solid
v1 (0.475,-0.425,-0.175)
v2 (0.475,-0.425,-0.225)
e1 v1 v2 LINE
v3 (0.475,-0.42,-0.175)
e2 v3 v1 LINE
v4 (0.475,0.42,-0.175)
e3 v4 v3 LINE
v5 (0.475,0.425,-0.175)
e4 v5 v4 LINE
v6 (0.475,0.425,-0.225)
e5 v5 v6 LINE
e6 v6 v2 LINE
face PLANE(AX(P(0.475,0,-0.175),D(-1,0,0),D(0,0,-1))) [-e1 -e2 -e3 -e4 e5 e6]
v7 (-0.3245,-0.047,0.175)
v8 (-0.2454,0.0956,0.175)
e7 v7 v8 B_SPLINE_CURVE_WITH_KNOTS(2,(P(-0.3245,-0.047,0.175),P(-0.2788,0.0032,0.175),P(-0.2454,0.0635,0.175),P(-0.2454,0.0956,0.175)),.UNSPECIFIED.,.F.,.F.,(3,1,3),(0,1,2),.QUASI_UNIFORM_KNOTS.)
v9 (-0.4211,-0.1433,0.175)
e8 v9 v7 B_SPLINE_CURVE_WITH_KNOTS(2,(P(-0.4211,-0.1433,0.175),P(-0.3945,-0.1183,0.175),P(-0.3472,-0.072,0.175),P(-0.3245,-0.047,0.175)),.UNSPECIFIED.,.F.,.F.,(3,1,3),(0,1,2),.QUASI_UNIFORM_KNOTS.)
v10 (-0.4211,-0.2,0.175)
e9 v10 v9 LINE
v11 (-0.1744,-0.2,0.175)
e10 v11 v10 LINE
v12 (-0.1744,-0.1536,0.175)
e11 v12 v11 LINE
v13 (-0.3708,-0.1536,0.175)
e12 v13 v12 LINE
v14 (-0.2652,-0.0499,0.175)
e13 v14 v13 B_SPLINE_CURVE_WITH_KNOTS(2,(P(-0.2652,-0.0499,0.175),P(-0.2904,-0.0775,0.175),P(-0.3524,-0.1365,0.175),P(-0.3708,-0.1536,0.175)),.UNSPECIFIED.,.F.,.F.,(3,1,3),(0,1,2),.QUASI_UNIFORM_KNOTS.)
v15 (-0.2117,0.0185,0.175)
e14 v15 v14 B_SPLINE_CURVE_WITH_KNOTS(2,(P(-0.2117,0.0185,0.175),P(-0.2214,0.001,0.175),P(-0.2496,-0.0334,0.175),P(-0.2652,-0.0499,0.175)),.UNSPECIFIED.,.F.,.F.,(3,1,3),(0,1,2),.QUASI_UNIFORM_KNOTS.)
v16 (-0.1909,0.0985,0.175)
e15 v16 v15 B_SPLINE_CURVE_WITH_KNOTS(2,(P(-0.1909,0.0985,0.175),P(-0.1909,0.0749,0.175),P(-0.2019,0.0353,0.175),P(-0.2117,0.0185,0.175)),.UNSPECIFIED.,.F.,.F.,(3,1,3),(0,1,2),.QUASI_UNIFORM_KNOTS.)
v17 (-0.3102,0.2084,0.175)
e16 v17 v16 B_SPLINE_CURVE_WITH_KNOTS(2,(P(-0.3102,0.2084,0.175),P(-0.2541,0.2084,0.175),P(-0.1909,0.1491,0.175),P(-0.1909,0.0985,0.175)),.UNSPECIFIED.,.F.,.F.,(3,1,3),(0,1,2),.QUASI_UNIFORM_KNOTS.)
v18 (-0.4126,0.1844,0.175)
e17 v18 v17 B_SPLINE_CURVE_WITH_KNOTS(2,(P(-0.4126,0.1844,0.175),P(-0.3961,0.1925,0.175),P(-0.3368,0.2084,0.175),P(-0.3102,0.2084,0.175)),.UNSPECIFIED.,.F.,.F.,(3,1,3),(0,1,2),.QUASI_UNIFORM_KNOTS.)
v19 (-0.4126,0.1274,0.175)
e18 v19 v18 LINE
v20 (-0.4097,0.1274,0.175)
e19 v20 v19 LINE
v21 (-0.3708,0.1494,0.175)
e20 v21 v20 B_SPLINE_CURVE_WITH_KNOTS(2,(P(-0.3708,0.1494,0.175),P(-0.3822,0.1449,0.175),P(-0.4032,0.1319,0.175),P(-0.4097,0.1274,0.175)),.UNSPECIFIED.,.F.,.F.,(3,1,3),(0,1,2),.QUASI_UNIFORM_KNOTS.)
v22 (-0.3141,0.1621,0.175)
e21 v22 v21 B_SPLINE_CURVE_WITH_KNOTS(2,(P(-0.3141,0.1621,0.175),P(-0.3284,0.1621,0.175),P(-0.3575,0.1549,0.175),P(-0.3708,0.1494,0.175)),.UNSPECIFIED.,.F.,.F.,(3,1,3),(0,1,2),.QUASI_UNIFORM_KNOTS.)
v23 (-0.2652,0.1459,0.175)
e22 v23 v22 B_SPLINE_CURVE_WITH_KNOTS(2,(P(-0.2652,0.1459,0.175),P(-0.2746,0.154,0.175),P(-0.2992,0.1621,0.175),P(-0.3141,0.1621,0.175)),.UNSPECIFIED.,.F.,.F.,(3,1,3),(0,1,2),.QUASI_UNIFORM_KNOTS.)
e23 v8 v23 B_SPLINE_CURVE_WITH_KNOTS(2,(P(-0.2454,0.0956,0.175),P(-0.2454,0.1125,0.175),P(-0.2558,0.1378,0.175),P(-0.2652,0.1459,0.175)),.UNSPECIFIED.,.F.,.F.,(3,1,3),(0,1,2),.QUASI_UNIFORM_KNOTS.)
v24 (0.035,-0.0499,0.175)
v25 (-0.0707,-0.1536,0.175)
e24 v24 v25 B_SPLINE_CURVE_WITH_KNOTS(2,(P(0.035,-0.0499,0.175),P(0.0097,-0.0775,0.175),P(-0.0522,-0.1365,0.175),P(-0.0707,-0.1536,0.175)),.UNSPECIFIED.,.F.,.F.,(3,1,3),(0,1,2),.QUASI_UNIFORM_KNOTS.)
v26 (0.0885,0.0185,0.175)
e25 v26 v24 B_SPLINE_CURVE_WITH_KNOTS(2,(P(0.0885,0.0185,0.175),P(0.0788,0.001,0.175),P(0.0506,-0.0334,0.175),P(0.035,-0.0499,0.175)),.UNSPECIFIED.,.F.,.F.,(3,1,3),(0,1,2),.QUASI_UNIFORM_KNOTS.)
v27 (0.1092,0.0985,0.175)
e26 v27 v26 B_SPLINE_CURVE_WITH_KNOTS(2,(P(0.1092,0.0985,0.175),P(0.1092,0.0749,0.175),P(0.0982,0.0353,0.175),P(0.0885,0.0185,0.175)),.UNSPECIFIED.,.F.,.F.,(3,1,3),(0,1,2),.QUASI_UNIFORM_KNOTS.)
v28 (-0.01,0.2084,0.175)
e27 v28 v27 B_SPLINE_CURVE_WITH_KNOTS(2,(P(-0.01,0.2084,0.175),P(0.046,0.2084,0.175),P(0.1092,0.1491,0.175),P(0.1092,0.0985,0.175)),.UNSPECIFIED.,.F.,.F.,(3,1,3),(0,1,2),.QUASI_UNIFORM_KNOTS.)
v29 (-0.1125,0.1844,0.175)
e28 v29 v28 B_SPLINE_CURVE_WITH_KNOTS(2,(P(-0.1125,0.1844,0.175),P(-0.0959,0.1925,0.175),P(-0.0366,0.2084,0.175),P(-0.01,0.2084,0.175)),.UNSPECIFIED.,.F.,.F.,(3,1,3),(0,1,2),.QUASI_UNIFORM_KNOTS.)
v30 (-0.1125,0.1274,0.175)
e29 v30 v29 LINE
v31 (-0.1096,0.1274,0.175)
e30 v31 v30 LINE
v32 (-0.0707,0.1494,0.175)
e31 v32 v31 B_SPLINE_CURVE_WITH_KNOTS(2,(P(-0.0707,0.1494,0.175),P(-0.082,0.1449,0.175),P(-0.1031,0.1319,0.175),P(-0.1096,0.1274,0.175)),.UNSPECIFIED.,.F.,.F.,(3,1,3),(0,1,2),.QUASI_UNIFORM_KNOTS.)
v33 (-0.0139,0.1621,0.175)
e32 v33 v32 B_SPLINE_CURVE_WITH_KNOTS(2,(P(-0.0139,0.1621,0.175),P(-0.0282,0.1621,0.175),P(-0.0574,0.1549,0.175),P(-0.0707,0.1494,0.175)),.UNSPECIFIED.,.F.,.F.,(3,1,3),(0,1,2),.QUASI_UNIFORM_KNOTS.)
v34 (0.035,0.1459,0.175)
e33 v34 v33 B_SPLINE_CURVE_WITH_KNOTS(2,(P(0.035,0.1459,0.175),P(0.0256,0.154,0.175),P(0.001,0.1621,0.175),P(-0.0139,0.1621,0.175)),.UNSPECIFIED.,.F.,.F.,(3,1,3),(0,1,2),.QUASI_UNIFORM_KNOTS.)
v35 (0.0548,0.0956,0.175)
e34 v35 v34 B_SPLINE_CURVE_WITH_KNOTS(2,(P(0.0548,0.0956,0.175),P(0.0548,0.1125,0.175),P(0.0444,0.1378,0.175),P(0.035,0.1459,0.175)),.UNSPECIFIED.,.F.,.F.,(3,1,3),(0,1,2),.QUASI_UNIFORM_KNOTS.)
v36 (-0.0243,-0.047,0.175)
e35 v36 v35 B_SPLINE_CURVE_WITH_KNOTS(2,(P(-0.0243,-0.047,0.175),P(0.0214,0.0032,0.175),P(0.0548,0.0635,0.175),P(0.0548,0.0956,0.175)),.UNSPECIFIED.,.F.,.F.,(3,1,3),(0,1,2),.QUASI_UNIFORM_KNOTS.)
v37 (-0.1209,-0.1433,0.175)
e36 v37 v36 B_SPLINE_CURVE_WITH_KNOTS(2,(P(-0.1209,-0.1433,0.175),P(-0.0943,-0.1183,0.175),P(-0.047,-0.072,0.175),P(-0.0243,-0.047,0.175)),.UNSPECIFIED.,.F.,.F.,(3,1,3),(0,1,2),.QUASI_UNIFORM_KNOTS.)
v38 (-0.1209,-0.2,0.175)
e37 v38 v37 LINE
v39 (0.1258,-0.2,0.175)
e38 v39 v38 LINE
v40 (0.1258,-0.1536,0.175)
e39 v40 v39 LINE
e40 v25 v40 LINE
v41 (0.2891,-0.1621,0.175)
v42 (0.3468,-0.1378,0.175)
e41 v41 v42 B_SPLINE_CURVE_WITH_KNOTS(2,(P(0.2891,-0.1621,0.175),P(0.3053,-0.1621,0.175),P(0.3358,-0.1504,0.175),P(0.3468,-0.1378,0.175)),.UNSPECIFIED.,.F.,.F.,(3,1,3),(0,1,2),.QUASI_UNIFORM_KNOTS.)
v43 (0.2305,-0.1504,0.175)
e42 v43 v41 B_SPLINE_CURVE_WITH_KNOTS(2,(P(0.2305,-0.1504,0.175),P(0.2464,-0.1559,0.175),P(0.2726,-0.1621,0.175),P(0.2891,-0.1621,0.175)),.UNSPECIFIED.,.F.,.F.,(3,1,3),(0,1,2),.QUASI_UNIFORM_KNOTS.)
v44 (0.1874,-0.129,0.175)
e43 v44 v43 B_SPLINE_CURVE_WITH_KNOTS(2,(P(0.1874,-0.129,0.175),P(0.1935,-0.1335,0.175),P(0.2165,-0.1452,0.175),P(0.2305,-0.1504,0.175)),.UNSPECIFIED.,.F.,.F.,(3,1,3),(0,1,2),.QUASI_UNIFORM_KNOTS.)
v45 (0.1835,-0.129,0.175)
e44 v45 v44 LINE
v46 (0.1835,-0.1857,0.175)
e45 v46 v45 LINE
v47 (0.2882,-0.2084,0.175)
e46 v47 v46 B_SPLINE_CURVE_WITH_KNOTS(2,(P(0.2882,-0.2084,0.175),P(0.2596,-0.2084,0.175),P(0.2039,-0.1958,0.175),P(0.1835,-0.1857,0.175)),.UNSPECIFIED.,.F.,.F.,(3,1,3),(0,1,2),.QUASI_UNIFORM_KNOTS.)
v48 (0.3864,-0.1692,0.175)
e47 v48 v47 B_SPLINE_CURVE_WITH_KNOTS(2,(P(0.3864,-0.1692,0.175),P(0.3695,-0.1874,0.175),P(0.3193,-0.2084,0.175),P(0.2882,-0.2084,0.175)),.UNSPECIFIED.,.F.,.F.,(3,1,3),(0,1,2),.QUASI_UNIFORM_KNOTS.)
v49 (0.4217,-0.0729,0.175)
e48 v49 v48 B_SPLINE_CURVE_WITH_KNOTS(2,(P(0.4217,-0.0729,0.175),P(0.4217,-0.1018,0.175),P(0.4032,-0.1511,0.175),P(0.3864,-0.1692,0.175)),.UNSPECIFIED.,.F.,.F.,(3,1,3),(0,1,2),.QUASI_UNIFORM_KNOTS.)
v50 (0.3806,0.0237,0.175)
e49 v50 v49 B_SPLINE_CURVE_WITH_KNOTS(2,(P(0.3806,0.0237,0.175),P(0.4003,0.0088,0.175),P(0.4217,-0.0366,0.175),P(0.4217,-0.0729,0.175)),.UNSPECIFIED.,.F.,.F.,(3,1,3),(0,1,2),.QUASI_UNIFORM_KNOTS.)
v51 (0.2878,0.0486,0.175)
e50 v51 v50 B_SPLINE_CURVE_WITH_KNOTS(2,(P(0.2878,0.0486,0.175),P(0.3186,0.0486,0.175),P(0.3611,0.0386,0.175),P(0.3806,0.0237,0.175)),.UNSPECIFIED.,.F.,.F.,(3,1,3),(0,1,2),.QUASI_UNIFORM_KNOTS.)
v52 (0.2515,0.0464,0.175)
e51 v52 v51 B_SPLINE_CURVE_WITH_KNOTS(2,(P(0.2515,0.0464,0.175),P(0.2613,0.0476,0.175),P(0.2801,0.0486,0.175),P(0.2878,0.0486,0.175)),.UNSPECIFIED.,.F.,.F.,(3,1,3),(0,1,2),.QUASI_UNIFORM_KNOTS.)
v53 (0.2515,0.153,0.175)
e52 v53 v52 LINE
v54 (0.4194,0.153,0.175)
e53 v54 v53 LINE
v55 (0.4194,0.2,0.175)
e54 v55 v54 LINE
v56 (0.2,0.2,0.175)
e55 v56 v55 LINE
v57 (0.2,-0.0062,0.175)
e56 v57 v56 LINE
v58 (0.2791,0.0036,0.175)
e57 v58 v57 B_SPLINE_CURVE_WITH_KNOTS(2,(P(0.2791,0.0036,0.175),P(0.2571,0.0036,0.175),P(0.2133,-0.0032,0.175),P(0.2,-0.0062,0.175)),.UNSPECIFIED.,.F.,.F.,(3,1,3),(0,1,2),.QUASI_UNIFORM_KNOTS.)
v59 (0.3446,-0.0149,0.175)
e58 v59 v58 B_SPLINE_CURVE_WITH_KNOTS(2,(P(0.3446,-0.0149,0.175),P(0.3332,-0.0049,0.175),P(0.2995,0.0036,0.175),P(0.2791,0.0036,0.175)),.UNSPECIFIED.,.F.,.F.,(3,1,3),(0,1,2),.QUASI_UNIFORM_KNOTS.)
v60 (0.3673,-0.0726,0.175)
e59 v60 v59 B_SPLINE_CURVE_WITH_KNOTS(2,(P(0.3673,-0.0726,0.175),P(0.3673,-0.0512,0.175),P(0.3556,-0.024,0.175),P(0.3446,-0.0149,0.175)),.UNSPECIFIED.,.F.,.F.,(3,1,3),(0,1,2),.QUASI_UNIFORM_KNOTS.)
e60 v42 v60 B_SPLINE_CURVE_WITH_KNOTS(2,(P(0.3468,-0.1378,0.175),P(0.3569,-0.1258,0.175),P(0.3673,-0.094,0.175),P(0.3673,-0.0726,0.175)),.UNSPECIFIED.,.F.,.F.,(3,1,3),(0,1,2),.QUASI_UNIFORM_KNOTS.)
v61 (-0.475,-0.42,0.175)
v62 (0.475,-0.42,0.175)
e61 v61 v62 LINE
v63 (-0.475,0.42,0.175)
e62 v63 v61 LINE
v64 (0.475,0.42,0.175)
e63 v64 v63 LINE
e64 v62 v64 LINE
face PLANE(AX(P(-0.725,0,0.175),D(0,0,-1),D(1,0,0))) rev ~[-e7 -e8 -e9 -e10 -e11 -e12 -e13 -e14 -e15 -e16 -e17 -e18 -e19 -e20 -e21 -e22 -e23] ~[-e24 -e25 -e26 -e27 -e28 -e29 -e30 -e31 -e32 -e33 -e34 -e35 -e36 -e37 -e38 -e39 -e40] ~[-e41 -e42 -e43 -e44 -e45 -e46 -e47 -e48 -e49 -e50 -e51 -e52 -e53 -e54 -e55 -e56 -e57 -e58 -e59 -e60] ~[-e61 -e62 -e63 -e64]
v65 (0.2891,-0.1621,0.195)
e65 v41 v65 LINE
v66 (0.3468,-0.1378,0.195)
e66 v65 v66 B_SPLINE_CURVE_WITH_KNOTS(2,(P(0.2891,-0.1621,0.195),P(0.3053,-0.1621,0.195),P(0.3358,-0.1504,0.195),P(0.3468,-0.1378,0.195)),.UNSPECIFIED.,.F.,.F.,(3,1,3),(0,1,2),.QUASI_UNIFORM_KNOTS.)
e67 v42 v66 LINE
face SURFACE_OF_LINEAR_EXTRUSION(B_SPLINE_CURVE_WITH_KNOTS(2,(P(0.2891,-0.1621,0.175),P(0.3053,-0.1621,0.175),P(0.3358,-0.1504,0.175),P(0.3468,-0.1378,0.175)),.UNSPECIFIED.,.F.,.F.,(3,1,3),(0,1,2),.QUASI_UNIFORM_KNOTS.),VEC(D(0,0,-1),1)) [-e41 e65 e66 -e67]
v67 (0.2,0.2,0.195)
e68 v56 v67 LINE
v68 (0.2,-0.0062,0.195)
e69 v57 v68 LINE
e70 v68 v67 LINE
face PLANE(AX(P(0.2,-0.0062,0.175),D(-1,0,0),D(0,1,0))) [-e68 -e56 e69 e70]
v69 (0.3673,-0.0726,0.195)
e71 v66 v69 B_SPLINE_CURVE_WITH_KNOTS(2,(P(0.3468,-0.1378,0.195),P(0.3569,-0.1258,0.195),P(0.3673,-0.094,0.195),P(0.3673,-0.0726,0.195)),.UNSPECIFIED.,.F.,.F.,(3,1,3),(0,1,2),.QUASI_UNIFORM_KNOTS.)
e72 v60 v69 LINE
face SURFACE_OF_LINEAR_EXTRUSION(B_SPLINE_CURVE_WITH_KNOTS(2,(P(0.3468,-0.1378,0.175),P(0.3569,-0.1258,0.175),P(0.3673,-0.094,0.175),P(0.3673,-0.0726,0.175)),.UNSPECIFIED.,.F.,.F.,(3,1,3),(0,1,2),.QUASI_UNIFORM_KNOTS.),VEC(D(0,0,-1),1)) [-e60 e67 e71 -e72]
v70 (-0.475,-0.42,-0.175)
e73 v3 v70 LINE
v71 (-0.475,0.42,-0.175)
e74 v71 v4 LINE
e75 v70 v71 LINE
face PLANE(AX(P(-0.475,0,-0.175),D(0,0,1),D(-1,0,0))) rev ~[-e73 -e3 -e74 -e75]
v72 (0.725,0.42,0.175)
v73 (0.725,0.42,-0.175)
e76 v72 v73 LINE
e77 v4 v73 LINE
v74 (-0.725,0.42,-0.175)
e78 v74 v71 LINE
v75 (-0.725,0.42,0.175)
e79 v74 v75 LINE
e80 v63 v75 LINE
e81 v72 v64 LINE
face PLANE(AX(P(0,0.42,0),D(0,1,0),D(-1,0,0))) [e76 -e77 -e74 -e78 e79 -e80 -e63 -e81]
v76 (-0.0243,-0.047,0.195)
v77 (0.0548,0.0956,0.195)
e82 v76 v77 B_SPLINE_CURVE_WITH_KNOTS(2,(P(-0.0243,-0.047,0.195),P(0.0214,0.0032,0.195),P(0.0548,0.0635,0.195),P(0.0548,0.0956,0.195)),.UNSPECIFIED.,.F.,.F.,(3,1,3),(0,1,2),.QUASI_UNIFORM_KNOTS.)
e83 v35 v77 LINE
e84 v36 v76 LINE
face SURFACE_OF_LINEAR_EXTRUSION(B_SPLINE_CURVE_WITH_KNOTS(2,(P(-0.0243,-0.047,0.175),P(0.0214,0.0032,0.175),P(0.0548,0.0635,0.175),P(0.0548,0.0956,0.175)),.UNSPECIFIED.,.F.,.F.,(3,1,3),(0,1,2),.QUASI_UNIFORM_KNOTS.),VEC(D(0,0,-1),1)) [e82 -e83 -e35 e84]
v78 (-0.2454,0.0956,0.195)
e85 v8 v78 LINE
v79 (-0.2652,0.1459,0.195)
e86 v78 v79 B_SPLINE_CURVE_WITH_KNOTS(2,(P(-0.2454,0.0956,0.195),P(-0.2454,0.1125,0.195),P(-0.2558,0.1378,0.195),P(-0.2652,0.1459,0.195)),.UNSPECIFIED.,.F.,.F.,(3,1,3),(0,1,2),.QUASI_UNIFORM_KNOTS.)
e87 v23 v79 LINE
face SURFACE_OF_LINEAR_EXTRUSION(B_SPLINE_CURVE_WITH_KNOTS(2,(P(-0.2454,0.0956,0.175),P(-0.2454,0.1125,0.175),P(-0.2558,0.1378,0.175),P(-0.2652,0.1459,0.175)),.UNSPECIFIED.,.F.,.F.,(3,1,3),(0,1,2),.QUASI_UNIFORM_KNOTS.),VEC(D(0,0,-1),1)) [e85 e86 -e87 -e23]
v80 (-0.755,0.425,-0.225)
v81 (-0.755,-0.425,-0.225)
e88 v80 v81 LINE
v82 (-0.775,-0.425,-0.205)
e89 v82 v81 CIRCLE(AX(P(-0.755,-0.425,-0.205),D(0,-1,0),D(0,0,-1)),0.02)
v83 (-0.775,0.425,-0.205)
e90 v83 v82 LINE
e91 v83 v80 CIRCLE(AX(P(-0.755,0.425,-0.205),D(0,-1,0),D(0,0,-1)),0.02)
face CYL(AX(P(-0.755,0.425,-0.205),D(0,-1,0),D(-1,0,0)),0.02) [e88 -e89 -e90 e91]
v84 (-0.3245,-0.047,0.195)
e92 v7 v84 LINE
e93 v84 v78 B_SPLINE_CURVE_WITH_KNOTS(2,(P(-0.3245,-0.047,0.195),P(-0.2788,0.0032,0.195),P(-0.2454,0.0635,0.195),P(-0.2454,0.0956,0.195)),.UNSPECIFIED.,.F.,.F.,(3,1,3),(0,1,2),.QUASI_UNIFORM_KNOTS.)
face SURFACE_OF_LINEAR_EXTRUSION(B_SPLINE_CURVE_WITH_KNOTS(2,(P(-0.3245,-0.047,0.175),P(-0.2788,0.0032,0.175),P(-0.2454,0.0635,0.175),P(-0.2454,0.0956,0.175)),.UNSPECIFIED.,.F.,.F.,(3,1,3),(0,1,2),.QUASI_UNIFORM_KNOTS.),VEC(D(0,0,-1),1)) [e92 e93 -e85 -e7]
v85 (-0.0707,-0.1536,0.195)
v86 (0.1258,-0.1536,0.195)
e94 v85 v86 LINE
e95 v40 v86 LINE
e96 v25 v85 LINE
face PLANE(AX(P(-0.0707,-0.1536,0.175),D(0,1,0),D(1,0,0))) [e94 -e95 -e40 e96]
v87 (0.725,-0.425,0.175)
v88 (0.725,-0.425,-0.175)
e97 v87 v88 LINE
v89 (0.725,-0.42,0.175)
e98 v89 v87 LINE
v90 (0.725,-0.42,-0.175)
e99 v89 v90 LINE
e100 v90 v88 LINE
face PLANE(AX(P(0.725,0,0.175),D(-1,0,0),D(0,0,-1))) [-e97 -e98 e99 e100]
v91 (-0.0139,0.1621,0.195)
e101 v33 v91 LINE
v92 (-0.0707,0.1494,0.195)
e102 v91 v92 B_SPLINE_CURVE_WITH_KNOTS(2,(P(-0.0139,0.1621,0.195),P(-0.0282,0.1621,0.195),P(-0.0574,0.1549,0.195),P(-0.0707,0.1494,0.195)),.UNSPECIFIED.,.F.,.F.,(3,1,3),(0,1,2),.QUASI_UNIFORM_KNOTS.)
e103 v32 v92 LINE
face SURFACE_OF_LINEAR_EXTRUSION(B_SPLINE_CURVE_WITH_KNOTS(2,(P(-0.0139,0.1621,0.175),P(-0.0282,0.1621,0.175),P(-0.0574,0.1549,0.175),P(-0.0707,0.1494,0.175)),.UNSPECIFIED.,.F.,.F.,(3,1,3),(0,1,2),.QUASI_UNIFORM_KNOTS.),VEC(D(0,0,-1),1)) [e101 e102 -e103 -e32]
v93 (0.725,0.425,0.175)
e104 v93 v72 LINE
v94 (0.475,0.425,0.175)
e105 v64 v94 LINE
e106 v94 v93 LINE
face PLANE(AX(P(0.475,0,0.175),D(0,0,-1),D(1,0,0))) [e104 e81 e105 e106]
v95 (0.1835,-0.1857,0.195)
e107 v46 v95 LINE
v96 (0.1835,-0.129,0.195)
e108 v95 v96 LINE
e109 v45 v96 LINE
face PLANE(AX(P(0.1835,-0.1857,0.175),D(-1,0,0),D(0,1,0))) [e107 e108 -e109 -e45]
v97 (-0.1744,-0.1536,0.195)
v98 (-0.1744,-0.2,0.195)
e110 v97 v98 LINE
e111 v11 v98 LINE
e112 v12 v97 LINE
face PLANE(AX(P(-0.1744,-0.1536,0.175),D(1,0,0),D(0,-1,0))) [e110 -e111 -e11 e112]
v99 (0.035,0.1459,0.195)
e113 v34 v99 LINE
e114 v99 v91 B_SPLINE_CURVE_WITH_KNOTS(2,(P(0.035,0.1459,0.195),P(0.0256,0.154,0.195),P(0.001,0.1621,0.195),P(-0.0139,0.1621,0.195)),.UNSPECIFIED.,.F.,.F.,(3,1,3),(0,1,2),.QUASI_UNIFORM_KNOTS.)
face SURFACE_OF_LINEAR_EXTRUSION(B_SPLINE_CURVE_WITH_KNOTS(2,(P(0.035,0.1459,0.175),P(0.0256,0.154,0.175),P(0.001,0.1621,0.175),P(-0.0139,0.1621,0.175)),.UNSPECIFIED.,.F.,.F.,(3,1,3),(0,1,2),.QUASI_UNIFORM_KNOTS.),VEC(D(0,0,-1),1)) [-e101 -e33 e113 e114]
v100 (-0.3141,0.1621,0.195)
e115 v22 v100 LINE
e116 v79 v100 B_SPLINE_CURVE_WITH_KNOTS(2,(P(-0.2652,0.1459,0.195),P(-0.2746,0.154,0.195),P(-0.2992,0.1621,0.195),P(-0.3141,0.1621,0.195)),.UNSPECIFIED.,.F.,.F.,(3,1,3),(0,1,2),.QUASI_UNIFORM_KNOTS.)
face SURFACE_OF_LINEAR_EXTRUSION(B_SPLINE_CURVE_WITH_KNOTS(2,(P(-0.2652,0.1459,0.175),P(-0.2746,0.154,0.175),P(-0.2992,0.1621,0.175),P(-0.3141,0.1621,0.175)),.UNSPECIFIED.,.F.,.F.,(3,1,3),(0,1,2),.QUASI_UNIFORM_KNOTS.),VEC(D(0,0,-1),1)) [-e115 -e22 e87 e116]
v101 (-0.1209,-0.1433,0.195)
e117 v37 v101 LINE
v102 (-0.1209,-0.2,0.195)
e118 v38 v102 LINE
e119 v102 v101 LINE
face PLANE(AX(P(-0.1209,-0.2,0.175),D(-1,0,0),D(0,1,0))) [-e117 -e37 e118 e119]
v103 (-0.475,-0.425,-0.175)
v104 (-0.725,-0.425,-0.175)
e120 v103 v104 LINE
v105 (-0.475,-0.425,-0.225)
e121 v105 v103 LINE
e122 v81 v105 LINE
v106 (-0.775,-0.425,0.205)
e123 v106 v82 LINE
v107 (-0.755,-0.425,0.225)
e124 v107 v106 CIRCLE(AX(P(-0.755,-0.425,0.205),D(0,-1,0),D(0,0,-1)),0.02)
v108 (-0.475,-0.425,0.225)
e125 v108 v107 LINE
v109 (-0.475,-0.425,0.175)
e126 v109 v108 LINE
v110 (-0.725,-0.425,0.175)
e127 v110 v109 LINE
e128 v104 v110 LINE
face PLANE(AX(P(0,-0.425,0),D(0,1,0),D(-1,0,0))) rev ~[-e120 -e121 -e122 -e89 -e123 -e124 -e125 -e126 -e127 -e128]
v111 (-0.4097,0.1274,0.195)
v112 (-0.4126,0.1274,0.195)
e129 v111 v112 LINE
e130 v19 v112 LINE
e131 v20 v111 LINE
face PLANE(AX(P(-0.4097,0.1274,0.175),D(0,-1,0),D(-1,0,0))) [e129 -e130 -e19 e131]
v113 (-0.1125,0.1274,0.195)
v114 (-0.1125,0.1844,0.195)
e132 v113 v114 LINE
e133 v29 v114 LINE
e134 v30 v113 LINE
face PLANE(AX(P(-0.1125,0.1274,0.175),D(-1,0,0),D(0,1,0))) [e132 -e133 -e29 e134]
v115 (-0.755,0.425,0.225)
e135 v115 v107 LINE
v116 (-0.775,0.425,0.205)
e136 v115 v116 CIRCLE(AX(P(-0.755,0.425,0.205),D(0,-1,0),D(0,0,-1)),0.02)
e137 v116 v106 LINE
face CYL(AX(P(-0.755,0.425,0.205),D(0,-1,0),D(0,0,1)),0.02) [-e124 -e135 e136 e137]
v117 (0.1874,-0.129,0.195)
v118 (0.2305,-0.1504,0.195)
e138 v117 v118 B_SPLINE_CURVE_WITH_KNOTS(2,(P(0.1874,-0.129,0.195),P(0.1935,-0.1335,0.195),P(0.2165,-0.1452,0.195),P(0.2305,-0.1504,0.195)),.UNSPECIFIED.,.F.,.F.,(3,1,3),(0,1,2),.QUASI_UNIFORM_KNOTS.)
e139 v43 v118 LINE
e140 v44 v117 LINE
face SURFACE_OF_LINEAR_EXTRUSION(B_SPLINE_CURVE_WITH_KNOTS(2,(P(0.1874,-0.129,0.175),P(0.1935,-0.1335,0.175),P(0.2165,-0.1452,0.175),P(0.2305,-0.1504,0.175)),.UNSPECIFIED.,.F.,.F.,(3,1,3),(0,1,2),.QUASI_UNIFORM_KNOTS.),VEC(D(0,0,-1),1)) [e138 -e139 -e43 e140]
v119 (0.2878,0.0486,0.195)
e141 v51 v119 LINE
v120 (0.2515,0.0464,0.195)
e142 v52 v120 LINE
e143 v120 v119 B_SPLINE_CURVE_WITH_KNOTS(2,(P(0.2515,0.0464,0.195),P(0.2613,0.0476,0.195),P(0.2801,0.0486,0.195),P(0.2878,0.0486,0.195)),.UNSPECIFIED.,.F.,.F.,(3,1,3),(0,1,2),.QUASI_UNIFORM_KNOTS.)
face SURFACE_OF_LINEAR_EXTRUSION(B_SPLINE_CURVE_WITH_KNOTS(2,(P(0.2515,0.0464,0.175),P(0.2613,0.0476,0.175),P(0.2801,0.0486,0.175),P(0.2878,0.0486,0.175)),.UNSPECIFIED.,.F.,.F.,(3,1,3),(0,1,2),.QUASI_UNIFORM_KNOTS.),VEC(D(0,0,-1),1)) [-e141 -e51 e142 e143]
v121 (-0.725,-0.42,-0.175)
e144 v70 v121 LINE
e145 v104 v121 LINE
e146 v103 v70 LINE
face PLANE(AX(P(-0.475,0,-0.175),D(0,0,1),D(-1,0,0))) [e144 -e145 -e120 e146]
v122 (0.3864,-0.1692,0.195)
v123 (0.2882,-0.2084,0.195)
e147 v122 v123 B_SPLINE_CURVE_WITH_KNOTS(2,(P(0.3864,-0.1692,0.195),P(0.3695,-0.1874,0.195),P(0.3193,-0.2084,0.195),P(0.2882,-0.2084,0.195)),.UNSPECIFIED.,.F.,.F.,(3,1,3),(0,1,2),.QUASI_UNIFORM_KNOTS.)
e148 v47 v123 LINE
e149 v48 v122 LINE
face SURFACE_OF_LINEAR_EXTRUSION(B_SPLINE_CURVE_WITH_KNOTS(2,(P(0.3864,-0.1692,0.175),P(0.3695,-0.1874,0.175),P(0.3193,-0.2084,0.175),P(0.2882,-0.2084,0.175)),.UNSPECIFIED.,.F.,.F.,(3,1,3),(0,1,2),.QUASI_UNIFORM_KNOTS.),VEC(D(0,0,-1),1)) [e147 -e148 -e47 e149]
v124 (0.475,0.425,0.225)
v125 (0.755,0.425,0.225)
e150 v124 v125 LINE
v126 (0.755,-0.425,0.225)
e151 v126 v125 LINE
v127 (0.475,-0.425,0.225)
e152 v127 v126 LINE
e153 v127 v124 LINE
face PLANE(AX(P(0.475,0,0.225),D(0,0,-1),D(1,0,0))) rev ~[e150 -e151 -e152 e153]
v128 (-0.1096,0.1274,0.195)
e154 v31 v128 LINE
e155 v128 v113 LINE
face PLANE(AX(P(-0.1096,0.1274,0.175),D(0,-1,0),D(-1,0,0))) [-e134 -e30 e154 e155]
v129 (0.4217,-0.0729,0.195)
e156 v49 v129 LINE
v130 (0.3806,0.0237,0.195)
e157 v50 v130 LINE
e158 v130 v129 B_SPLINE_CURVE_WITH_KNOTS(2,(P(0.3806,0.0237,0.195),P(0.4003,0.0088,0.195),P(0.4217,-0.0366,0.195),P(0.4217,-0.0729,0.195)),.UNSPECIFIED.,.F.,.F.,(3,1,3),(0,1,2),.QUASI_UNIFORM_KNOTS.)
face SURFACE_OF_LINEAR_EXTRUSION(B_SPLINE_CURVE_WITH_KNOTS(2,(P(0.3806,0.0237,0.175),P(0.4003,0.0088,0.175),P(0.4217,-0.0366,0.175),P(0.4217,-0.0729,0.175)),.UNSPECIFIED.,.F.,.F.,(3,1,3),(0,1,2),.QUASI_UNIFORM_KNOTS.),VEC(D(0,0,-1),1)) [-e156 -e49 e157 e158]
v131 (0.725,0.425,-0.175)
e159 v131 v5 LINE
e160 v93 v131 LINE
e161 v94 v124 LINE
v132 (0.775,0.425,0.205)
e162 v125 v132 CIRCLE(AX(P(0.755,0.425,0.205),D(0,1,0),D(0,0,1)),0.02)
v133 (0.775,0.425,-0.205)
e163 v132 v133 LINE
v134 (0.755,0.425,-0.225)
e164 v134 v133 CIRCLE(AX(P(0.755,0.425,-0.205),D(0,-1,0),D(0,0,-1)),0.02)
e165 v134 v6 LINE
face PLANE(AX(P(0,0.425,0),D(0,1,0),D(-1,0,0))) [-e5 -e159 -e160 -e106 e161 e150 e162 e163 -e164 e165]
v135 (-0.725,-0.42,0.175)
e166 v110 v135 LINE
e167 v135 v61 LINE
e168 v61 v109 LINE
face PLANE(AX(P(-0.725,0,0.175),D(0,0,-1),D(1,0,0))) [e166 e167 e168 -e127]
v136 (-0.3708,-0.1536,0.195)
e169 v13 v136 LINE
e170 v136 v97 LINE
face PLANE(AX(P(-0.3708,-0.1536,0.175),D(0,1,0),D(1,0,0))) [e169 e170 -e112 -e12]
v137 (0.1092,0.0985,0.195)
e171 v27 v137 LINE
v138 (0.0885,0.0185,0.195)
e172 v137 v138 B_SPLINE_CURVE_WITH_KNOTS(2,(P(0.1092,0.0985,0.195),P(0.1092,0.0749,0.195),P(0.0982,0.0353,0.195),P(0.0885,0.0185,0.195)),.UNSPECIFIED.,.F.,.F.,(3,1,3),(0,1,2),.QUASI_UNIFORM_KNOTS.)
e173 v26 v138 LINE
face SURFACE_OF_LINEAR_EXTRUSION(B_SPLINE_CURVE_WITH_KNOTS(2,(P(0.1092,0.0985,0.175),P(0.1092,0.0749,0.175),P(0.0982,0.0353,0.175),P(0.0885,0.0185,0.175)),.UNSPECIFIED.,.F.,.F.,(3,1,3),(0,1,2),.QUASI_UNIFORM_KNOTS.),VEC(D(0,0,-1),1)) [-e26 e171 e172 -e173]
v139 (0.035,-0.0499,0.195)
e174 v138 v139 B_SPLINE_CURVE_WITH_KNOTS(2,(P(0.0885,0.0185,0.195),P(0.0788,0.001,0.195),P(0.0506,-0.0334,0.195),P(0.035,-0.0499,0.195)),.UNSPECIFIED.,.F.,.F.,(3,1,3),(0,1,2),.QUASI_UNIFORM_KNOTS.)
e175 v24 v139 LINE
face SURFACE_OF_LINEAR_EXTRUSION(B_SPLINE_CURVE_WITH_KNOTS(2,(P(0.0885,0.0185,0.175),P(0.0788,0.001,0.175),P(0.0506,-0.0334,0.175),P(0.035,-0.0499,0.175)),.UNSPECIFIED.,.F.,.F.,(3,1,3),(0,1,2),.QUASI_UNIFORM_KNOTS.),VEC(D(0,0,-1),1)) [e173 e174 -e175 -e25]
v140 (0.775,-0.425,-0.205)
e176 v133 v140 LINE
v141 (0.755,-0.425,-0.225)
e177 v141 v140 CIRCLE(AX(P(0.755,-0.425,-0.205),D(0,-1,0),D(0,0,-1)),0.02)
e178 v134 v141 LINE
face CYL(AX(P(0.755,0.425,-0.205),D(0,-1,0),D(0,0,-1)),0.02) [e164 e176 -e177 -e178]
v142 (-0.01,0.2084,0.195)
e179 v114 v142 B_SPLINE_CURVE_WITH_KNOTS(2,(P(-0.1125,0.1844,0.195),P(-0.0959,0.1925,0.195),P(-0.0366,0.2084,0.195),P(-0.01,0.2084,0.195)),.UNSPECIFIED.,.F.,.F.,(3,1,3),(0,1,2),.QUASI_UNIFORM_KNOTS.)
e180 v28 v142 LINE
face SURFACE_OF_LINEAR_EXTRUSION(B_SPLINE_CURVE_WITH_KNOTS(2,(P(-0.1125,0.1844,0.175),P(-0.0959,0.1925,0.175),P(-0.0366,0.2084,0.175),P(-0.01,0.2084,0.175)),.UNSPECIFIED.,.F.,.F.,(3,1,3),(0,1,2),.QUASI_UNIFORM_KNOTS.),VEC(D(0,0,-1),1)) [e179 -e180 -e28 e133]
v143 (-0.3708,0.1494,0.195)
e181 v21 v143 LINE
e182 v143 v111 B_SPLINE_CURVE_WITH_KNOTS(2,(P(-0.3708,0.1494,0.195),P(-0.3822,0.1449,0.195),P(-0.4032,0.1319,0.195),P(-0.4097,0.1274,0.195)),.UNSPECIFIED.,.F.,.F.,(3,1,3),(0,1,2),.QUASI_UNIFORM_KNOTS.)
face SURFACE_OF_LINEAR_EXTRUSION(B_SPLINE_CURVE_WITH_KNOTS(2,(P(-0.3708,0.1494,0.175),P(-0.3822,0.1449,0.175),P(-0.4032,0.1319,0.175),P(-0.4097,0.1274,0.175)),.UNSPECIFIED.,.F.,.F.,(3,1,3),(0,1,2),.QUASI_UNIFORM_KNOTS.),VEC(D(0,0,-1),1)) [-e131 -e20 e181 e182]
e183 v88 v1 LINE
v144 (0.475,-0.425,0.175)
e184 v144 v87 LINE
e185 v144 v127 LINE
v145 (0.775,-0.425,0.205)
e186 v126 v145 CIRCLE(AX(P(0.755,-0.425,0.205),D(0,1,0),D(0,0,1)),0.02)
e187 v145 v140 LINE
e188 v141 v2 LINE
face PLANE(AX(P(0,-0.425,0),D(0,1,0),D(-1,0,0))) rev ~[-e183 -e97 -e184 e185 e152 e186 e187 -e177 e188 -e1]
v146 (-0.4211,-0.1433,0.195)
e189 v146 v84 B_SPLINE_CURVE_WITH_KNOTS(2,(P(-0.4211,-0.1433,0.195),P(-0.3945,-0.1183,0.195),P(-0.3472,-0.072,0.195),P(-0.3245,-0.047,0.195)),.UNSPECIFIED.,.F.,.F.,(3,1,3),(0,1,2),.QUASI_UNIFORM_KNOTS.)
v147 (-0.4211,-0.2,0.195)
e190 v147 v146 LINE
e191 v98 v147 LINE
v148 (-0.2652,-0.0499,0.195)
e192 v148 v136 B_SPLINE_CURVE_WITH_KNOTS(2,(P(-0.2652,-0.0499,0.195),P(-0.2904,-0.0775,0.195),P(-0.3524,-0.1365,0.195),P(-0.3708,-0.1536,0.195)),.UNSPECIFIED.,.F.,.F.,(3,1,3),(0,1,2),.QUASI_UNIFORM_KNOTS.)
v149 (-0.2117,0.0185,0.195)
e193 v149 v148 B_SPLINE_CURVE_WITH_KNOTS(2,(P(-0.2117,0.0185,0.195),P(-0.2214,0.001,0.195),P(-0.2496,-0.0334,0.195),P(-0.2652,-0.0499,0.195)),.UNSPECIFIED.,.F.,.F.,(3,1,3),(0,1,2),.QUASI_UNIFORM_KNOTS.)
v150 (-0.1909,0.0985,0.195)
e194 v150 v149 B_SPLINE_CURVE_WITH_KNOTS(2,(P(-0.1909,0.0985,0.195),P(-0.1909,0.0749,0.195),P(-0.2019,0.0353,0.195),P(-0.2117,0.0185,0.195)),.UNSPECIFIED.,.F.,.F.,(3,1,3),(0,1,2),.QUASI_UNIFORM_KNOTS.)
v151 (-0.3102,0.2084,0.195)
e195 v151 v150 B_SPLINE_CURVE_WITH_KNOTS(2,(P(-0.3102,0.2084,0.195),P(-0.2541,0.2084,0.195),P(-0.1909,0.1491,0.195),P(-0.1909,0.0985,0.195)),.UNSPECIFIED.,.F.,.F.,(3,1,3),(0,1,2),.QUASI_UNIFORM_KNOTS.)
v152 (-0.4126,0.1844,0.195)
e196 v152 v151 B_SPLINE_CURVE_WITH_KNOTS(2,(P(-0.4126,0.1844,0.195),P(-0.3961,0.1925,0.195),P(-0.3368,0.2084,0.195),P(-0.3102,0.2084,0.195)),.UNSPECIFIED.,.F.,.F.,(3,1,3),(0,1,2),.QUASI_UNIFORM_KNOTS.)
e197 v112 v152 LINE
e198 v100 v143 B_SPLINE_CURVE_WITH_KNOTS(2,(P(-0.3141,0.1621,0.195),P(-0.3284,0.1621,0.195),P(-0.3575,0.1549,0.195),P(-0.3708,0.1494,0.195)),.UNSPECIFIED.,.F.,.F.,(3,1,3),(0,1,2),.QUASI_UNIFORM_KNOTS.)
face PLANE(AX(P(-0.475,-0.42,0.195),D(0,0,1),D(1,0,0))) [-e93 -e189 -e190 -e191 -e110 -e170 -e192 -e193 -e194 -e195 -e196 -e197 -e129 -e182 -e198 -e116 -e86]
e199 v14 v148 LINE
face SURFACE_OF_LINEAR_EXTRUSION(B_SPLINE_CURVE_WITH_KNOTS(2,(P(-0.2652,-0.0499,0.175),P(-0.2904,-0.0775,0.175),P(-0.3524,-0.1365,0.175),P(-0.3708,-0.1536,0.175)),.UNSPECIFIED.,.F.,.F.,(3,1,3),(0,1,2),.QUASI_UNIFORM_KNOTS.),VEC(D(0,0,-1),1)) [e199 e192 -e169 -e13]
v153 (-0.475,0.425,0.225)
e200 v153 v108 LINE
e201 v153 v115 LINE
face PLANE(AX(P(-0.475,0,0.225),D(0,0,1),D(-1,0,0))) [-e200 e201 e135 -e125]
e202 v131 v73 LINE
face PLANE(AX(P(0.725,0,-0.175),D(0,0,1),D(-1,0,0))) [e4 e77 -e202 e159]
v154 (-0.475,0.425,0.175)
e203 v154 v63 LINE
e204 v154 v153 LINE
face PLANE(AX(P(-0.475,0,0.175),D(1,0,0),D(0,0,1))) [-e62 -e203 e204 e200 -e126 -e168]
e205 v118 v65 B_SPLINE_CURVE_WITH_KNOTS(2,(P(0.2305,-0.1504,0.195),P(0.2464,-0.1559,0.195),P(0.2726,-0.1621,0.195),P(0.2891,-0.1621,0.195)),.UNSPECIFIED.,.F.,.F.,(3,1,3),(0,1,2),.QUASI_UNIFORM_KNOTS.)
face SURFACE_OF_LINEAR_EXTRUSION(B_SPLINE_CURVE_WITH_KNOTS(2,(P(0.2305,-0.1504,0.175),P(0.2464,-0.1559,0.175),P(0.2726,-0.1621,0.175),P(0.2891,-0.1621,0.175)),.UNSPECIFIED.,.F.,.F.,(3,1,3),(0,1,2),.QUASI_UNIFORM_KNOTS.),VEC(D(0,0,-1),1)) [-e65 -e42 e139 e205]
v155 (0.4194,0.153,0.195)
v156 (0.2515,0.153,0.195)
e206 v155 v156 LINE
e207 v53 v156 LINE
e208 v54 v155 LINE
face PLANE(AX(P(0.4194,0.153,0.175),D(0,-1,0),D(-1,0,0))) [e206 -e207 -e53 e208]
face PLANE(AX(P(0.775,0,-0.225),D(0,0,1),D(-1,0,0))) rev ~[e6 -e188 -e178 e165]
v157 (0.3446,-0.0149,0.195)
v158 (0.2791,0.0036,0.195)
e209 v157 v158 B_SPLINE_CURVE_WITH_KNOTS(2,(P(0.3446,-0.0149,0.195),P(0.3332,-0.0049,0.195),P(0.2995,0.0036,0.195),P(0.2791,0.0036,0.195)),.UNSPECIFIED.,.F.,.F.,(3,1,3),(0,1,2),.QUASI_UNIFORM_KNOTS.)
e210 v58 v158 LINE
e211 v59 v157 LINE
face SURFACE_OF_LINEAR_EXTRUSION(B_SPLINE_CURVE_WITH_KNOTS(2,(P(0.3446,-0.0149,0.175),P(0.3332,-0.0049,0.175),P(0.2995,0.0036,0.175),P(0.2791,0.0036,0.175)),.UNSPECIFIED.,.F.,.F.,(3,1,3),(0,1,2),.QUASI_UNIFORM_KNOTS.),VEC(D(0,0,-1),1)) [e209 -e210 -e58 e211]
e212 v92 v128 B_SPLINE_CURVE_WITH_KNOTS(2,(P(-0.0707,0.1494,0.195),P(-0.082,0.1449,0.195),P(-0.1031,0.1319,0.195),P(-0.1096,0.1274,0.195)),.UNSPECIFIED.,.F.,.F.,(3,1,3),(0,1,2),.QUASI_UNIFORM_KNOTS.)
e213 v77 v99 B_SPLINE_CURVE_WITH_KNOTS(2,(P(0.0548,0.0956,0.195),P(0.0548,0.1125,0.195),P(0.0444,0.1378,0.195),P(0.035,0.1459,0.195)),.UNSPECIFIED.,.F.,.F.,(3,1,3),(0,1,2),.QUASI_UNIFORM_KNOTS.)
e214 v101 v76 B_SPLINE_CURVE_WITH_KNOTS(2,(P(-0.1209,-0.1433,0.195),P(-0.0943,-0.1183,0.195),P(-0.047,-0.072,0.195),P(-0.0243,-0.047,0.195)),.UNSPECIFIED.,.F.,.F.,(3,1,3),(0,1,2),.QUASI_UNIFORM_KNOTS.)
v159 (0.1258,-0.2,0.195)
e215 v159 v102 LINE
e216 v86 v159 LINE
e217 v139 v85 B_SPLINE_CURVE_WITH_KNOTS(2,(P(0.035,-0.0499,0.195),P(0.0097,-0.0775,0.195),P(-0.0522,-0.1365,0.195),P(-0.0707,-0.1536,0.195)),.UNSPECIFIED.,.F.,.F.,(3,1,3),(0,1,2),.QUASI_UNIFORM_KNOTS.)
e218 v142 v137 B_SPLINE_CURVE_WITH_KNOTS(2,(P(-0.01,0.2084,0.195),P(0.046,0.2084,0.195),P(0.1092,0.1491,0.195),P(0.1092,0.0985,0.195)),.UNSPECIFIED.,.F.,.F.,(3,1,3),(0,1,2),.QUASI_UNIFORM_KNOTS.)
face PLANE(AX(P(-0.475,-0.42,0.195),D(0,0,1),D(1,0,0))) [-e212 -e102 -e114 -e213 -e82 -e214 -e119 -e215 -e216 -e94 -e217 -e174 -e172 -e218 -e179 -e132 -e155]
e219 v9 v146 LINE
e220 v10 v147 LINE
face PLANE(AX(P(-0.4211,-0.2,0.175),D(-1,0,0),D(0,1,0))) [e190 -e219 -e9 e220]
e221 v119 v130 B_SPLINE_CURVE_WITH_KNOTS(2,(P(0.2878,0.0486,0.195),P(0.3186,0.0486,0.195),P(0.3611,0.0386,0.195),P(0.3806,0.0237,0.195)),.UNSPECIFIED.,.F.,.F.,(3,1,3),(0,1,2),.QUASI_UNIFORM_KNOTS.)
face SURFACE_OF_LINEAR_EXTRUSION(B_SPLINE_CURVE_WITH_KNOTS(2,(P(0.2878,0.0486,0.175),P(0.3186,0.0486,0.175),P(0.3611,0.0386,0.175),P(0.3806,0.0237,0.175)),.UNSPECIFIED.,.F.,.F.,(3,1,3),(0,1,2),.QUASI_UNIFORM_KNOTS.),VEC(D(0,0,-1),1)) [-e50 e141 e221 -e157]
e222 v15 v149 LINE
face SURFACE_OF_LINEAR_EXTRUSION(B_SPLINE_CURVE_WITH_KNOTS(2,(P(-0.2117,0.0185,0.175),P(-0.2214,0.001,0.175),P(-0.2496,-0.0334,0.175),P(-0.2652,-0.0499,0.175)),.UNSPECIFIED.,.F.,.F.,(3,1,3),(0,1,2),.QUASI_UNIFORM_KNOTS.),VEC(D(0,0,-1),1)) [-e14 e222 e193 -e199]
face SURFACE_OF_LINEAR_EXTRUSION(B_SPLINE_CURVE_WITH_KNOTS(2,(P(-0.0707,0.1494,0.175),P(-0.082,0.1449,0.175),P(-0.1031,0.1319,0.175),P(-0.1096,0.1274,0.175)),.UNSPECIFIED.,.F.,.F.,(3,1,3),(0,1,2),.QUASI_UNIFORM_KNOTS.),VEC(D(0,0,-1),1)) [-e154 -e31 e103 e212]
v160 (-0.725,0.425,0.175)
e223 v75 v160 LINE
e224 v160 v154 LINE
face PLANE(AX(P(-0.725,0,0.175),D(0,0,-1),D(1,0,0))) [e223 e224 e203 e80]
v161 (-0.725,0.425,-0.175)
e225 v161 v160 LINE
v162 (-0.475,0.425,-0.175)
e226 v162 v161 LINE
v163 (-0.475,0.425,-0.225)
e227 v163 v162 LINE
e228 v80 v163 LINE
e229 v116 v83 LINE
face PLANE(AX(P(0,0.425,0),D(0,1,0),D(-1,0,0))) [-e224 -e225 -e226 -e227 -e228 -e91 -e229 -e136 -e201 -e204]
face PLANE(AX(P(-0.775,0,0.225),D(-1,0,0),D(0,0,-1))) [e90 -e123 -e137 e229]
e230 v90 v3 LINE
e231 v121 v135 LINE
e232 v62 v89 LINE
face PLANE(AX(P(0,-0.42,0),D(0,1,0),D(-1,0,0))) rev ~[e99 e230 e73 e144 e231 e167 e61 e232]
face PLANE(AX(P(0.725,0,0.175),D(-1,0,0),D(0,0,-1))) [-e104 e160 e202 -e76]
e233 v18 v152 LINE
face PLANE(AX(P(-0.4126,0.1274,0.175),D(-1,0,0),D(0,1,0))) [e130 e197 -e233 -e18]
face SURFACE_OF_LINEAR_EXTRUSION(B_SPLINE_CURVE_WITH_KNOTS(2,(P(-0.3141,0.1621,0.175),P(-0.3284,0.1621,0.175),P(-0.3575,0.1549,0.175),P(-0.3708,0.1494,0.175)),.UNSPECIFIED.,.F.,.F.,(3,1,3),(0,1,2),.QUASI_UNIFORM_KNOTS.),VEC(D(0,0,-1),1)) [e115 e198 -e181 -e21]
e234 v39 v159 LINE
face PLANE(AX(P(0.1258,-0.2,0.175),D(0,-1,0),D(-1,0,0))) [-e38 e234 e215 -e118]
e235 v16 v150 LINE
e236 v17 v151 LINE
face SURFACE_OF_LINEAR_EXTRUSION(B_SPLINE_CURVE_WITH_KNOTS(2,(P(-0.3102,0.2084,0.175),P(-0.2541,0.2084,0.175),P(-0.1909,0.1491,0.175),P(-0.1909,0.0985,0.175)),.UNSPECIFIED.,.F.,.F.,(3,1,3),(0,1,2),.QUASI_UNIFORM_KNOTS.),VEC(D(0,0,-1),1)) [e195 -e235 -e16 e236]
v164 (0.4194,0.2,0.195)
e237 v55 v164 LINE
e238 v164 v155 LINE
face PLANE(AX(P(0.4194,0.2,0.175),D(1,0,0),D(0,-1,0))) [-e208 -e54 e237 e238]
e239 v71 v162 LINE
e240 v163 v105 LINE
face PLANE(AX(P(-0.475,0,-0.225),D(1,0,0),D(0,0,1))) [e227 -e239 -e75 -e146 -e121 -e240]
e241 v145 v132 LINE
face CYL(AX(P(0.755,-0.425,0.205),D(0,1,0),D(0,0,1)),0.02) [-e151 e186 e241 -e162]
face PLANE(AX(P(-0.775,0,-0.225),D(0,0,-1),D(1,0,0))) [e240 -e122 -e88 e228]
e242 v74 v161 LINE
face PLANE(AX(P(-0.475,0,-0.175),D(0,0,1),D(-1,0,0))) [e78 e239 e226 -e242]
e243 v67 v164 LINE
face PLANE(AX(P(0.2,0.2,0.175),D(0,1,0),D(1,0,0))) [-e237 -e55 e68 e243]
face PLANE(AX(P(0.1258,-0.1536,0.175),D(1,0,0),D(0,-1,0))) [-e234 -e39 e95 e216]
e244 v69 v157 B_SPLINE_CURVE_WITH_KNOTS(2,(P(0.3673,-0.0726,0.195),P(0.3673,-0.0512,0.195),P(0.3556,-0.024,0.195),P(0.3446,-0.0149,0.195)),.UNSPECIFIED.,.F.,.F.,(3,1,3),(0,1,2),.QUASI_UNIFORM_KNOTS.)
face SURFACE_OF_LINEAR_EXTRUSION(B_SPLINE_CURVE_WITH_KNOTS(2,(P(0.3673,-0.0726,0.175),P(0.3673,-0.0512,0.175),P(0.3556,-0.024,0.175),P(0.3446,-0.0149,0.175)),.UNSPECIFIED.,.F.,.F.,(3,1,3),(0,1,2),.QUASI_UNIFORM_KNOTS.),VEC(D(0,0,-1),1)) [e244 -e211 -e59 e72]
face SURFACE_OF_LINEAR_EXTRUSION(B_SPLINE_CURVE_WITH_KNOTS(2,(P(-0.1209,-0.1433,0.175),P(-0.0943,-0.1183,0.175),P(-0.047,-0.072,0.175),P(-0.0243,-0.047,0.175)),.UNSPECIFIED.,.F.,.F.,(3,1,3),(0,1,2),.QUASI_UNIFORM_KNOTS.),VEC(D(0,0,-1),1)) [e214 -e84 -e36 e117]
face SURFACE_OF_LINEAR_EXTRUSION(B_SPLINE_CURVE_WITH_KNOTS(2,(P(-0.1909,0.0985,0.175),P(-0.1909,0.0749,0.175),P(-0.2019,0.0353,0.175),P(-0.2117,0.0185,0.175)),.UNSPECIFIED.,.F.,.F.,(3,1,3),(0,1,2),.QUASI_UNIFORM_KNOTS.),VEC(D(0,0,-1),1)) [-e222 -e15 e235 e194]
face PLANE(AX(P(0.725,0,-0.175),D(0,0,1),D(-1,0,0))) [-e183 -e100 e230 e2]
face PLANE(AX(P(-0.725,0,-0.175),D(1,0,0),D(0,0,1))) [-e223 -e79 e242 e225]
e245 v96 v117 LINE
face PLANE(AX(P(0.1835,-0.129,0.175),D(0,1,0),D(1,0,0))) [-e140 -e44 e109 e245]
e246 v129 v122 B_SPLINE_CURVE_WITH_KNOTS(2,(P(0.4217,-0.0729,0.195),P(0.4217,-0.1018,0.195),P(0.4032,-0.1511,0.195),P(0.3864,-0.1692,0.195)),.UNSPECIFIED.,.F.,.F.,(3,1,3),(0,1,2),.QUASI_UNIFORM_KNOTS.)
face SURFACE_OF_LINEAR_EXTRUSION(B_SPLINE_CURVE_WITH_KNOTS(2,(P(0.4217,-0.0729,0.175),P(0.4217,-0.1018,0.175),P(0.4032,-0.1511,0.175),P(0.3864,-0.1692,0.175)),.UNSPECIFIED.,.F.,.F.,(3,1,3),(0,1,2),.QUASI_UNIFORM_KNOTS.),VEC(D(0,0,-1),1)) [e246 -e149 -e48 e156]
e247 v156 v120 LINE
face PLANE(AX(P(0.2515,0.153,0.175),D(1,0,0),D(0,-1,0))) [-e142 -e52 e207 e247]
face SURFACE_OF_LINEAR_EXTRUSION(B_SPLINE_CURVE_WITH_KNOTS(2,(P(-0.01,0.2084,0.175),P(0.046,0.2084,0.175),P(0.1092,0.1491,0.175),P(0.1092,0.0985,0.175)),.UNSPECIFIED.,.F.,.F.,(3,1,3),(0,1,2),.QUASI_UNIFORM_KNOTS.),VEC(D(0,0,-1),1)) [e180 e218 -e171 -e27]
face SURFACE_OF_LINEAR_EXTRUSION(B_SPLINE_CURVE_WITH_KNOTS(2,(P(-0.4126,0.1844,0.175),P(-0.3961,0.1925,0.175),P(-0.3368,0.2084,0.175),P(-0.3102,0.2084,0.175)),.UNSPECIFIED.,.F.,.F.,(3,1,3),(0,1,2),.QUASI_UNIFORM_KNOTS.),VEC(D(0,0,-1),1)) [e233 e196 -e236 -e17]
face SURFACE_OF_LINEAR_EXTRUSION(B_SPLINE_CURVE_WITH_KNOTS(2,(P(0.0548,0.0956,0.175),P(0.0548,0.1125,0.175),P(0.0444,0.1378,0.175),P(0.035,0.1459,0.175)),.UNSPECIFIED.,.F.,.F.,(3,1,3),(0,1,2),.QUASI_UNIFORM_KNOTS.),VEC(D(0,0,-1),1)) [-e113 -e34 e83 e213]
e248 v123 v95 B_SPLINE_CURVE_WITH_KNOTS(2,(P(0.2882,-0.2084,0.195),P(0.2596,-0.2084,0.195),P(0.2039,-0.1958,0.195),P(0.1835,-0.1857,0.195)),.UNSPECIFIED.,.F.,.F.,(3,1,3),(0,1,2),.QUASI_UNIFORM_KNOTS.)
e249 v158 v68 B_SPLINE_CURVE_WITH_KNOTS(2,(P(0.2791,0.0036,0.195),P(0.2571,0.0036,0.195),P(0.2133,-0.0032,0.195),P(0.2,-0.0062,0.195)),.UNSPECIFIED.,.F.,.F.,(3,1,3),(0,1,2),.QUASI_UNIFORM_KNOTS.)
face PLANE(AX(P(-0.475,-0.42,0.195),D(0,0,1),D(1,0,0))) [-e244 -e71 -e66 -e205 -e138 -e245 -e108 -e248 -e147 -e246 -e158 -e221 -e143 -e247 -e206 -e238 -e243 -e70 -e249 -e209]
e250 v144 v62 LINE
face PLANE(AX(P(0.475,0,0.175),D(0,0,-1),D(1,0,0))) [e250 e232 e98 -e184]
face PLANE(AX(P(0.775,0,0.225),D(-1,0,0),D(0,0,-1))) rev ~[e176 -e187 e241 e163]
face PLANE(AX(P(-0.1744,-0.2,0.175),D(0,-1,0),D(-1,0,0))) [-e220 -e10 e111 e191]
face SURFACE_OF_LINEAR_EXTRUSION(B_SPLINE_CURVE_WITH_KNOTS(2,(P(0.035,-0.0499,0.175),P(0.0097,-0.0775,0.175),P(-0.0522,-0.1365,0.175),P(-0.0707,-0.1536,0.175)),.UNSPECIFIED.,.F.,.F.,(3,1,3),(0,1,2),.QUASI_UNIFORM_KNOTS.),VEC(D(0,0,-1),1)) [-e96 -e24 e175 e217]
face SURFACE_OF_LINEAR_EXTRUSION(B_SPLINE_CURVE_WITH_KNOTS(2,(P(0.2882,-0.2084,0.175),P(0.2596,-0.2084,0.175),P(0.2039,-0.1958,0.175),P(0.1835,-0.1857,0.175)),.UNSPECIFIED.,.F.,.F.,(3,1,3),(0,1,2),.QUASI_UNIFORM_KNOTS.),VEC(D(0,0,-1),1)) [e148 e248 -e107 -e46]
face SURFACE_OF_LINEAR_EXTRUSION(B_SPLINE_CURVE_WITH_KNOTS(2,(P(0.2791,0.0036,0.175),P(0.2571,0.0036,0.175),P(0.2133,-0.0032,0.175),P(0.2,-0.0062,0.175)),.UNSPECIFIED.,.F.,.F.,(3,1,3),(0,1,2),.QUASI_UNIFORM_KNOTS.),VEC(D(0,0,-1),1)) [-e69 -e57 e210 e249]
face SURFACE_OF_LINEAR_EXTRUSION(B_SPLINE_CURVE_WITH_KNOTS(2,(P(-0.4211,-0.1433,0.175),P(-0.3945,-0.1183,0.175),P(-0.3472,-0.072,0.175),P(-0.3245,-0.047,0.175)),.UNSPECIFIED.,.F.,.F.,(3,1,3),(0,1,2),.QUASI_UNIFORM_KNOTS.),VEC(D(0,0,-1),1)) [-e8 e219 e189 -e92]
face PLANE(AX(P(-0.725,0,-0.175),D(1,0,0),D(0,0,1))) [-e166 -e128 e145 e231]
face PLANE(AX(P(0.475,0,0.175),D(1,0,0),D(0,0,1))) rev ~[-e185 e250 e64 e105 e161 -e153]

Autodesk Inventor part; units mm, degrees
ref_plane "YZ Plane" through (0, 0, 0) normal (1, 0, 0) x (0, 1, 0)
ref_plane "XZ Plane" through (0, 0, 0) normal (0, 1, 0) x (-1, 0, 0)
ref_plane "XY Plane" through (0, 0, 0) normal (0, 0, 1) x (1, 0, 0)
sketch "Sketch1" plane through (0, 0, 0) normal (0, 1, 0) x (-1, 0, 0)
  line L0 (0.725, 0.175) -> (-0.725, 0.175)
  line L1 (-0.725, 0.175) -> (-0.725, -0.175)
  line L2 (-0.725, -0.175) -> (0.725, -0.175)
  line L3 (0.725, -0.175) -> (0.725, 0.175)
  line L4 (0.475, 0.175) -> (0.475, 0.225)
  line L5 (0.475, 0.225) -> (0.775, 0.225)
  line L6 (0.775, 0.225) -> (0.775, -0.225)
  line L7 (0.775, -0.225) -> (0.475, -0.225)
  line L8 (0.475, -0.225) -> (0.475, -0.175)
  line L9 (-0.475, 0.175) -> (-0.475, 0.225)
  line L10 (-0.475, 0.225) -> (-0.775, 0.225)
  line L11 (-0.775, 0.225) -> (-0.775, -0.225)
  line L12 (-0.775, -0.225) -> (-0.475, -0.225)
  line L13 (-0.475, -0.175) -> (-0.475, -0.225)
  line L14 (0.475, 0.175) -> (-0.475, 0.175)
  point P0 (0, 0)
  point P1 (0, 0.175)
  point P2 (0.725, 0)
  dimension "d0" = 1.55
  dimension "d1" = 0.05
  dimension "d2" = 0.05
  dimension "d3" = 0.45
  dimension "d4" = 0.3
extrude "Extrusion1" add sketch "Sketch1" along normal mid plane 0.85 contours L0 L4 L5 L6 L7 L8 L2 L3 | L0 L1 L2 L13 L12 L11 L10 L9
extrude "Extrusion2" add sketch "Sketch1" along normal mid plane 0.84 contours L3 L2 L1 L0
sketch "Sketch2" plane through (-0.475, -0.42, 0.175) normal (0, 0, 1) x (1, 0, 0)
  line L0 (0, 0) -> (0, 0.84) projected
  line L1 (0.95, 0) -> (0, 0) projected
  line L2 (0.95, 0) -> (0.95, 0.84) projected
  line L3 (0, 0.84) -> (0.95, 0.84) projected
  line L4 (0, 0.42) -> (0.95, 0.42) construction
  line L5 (0.3006, 0.22) -> (0.0539, 0.22)
  line L6 (0.0539, 0.22) -> (0.0539, 0.2767)
  spline S0 degree 2 poles (0.0539, 0.2767) (0.0805, 0.3017) (0.1278, 0.348) (0.1505, 0.373) knots 0 0 0 1 2 2 2
  spline S1 degree 2 poles (0.1505, 0.373) (0.1962, 0.4232) (0.2296, 0.4835) (0.2296, 0.5156) knots 0 0 0 1 2 2 2
  spline S2 degree 2 poles (0.2296, 0.5156) (0.2296, 0.5325) (0.2192, 0.5578) (0.2098, 0.5659) knots 0 0 0 1 2 2 2
  spline S3 degree 2 poles (0.2098, 0.5659) (0.2004, 0.574) (0.1758, 0.5821) (0.1609, 0.5821) knots 0 0 0 1 2 2 2
  spline S4 degree 2 poles (0.1609, 0.5821) (0.1466, 0.5821) (0.1175, 0.5749) (0.1042, 0.5694) knots 0 0 0 1 2 2 2
  spline S5 degree 2 poles (0.1042, 0.5694) (0.0928, 0.5649) (0.0718, 0.5519) (0.0653, 0.5474) knots 0 0 0 1 2 2 2
  line L7 (0.0653, 0.5474) -> (0.0624, 0.5474)
  line L8 (0.0624, 0.5474) -> (0.0624, 0.6044)
  spline S6 degree 2 poles (0.0624, 0.6044) (0.0789, 0.6125) (0.1382, 0.6284) (0.1648, 0.6284) knots 0 0 0 1 2 2 2
  spline S7 degree 2 poles (0.1648, 0.6284) (0.2209, 0.6284) (0.2841, 0.5691) (0.2841, 0.5185) knots 0 0 0 1 2 2 2
  spline S8 degree 2 poles (0.2841, 0.5185) (0.2841, 0.4949) (0.2731, 0.4553) (0.2633, 0.4385) knots 0 0 0 1 2 2 2
  spline S9 degree 2 poles (0.2633, 0.4385) (0.2536, 0.421) (0.2254, 0.3866) (0.2098, 0.3701) knots 0 0 0 1 2 2 2
  spline S10 degree 2 poles (0.2098, 0.3701) (0.1846, 0.3425) (0.1226, 0.2835) (0.1042, 0.2664) knots 0 0 0 1 2 2 2
  line L9 (0.1042, 0.2664) -> (0.3006, 0.2664)
  line L10 (0.3006, 0.2664) -> (0.3006, 0.22)
  line L11 (0.6008, 0.22) -> (0.3541, 0.22)
  line L12 (0.3541, 0.22) -> (0.3541, 0.2767)
  spline S11 degree 2 poles (0.3541, 0.2767) (0.3807, 0.3017) (0.428, 0.348) (0.4507, 0.373) knots 0 0 0 1 2 2 2
  spline S12 degree 2 poles (0.4507, 0.373) (0.4964, 0.4232) (0.5298, 0.4835) (0.5298, 0.5156) knots 0 0 0 1 2 2 2
  spline S13 degree 2 poles (0.5298, 0.5156) (0.5298, 0.5325) (0.5194, 0.5578) (0.51, 0.5659) knots 0 0 0 1 2 2 2
  spline S14 degree 2 poles (0.51, 0.5659) (0.5006, 0.574) (0.476, 0.5821) (0.4611, 0.5821) knots 0 0 0 1 2 2 2
  spline S15 degree 2 poles (0.4611, 0.5821) (0.4468, 0.5821) (0.4176, 0.5749) (0.4043, 0.5694) knots 0 0 0 1 2 2 2
  spline S16 degree 2 poles (0.4043, 0.5694) (0.393, 0.5649) (0.3719, 0.5519) (0.3654, 0.5474) knots 0 0 0 1 2 2 2
  line L13 (0.3654, 0.5474) -> (0.3625, 0.5474)
  line L14 (0.3625, 0.5474) -> (0.3625, 0.6044)
  spline S17 degree 2 poles (0.3625, 0.6044) (0.3791, 0.6125) (0.4384, 0.6284) (0.465, 0.6284) knots 0 0 0 1 2 2 2
  spline S18 degree 2 poles (0.465, 0.6284) (0.521, 0.6284) (0.5842, 0.5691) (0.5842, 0.5185) knots 0 0 0 1 2 2 2
  spline S19 degree 2 poles (0.5842, 0.5185) (0.5842, 0.4949) (0.5732, 0.4553) (0.5635, 0.4385) knots 0 0 0 1 2 2 2
  spline S20 degree 2 poles (0.5635, 0.4385) (0.5538, 0.421) (0.5256, 0.3866) (0.51, 0.3701) knots 0 0 0 1 2 2 2
  spline S21 degree 2 poles (0.51, 0.3701) (0.4847, 0.3425) (0.4228, 0.2835) (0.4043, 0.2664) knots 0 0 0 1 2 2 2
  line L15 (0.4043, 0.2664) -> (0.6008, 0.2664)
  line L16 (0.6008, 0.2664) -> (0.6008, 0.22)
  spline S22 degree 2 poles (0.8967, 0.3471) (0.8967, 0.3182) (0.8782, 0.2689) (0.8614, 0.2508) knots 0 0 0 1 2 2 2
  spline S23 degree 2 poles (0.8614, 0.2508) (0.8445, 0.2326) (0.7943, 0.2116) (0.7632, 0.2116) knots 0 0 0 1 2 2 2
  spline S24 degree 2 poles (0.7632, 0.2116) (0.7346, 0.2116) (0.6789, 0.2242) (0.6585, 0.2343) knots 0 0 0 1 2 2 2
  line L17 (0.6585, 0.2343) -> (0.6585, 0.291)
  line L18 (0.6585, 0.291) -> (0.6624, 0.291)
  spline S25 degree 2 poles (0.6624, 0.291) (0.6685, 0.2865) (0.6915, 0.2748) (0.7055, 0.2696) knots 0 0 0 1 2 2 2
  spline S26 degree 2 poles (0.7055, 0.2696) (0.7214, 0.2641) (0.7476, 0.2579) (0.7641, 0.2579) knots 0 0 0 1 2 2 2
  spline S27 degree 2 poles (0.7641, 0.2579) (0.7803, 0.2579) (0.8108, 0.2696) (0.8218, 0.2822) knots 0 0 0 1 2 2 2
  spline S28 degree 2 poles (0.8218, 0.2822) (0.8319, 0.2942) (0.8423, 0.326) (0.8423, 0.3474) knots 0 0 0 1 2 2 2
  spline S29 degree 2 poles (0.8423, 0.3474) (0.8423, 0.3688) (0.8306, 0.396) (0.8196, 0.4051) knots 0 0 0 1 2 2 2
  spline S30 degree 2 poles (0.8196, 0.4051) (0.8082, 0.4151) (0.7745, 0.4236) (0.7541, 0.4236) knots 0 0 0 1 2 2 2
  spline S31 degree 2 poles (0.7541, 0.4236) (0.7321, 0.4236) (0.6883, 0.4168) (0.675, 0.4138) knots 0 0 0 1 2 2 2
  line L19 (0.675, 0.4138) -> (0.675, 0.62)
  line L20 (0.675, 0.62) -> (0.8944, 0.62)
  line L21 (0.8944, 0.62) -> (0.8944, 0.573)
  line L22 (0.8944, 0.573) -> (0.7265, 0.573)
  line L23 (0.7265, 0.573) -> (0.7265, 0.4664)
  spline S32 degree 2 poles (0.7265, 0.4664) (0.7363, 0.4676) (0.7551, 0.4686) (0.7628, 0.4686) knots 0 0 0 1 2 2 2
  spline S33 degree 2 poles (0.7628, 0.4686) (0.7936, 0.4686) (0.8361, 0.4586) (0.8556, 0.4437) knots 0 0 0 1 2 2 2
  spline S34 degree 2 poles (0.8556, 0.4437) (0.8753, 0.4288) (0.8967, 0.3834) (0.8967, 0.3471) knots 0 0 0 1 2 2 2
  point P0 (0.475, 0.42)
extrude "Extrusion3" add sketch "Sketch2" along normal blind 0.02 contours L5 L6 S0 S1 S2 S3 S4 S5 L7 L8 S6 S7 S8 S9 S10 L9 L10 | L11 L12 S11 S12 S13 S14 S15 S16 L13 L14 S17 S18 S19 S20 S21 L15 L16 | S22 S23 S24 L17 L18 S25 S26 S27 S28 S29 S30 S31 L19 L20 L21 L22 L23 S32 S33 S34
fillet "Fillet1" radius 0.02 4 edges at (-0.775, 0, 0.225) (-0.775, 0, -0.225) (0.775, 0, 0.225) (0.775, 0, -0.225)
equation "\"d2\" = d1"
properties part number "21-1001" material "Copper"
